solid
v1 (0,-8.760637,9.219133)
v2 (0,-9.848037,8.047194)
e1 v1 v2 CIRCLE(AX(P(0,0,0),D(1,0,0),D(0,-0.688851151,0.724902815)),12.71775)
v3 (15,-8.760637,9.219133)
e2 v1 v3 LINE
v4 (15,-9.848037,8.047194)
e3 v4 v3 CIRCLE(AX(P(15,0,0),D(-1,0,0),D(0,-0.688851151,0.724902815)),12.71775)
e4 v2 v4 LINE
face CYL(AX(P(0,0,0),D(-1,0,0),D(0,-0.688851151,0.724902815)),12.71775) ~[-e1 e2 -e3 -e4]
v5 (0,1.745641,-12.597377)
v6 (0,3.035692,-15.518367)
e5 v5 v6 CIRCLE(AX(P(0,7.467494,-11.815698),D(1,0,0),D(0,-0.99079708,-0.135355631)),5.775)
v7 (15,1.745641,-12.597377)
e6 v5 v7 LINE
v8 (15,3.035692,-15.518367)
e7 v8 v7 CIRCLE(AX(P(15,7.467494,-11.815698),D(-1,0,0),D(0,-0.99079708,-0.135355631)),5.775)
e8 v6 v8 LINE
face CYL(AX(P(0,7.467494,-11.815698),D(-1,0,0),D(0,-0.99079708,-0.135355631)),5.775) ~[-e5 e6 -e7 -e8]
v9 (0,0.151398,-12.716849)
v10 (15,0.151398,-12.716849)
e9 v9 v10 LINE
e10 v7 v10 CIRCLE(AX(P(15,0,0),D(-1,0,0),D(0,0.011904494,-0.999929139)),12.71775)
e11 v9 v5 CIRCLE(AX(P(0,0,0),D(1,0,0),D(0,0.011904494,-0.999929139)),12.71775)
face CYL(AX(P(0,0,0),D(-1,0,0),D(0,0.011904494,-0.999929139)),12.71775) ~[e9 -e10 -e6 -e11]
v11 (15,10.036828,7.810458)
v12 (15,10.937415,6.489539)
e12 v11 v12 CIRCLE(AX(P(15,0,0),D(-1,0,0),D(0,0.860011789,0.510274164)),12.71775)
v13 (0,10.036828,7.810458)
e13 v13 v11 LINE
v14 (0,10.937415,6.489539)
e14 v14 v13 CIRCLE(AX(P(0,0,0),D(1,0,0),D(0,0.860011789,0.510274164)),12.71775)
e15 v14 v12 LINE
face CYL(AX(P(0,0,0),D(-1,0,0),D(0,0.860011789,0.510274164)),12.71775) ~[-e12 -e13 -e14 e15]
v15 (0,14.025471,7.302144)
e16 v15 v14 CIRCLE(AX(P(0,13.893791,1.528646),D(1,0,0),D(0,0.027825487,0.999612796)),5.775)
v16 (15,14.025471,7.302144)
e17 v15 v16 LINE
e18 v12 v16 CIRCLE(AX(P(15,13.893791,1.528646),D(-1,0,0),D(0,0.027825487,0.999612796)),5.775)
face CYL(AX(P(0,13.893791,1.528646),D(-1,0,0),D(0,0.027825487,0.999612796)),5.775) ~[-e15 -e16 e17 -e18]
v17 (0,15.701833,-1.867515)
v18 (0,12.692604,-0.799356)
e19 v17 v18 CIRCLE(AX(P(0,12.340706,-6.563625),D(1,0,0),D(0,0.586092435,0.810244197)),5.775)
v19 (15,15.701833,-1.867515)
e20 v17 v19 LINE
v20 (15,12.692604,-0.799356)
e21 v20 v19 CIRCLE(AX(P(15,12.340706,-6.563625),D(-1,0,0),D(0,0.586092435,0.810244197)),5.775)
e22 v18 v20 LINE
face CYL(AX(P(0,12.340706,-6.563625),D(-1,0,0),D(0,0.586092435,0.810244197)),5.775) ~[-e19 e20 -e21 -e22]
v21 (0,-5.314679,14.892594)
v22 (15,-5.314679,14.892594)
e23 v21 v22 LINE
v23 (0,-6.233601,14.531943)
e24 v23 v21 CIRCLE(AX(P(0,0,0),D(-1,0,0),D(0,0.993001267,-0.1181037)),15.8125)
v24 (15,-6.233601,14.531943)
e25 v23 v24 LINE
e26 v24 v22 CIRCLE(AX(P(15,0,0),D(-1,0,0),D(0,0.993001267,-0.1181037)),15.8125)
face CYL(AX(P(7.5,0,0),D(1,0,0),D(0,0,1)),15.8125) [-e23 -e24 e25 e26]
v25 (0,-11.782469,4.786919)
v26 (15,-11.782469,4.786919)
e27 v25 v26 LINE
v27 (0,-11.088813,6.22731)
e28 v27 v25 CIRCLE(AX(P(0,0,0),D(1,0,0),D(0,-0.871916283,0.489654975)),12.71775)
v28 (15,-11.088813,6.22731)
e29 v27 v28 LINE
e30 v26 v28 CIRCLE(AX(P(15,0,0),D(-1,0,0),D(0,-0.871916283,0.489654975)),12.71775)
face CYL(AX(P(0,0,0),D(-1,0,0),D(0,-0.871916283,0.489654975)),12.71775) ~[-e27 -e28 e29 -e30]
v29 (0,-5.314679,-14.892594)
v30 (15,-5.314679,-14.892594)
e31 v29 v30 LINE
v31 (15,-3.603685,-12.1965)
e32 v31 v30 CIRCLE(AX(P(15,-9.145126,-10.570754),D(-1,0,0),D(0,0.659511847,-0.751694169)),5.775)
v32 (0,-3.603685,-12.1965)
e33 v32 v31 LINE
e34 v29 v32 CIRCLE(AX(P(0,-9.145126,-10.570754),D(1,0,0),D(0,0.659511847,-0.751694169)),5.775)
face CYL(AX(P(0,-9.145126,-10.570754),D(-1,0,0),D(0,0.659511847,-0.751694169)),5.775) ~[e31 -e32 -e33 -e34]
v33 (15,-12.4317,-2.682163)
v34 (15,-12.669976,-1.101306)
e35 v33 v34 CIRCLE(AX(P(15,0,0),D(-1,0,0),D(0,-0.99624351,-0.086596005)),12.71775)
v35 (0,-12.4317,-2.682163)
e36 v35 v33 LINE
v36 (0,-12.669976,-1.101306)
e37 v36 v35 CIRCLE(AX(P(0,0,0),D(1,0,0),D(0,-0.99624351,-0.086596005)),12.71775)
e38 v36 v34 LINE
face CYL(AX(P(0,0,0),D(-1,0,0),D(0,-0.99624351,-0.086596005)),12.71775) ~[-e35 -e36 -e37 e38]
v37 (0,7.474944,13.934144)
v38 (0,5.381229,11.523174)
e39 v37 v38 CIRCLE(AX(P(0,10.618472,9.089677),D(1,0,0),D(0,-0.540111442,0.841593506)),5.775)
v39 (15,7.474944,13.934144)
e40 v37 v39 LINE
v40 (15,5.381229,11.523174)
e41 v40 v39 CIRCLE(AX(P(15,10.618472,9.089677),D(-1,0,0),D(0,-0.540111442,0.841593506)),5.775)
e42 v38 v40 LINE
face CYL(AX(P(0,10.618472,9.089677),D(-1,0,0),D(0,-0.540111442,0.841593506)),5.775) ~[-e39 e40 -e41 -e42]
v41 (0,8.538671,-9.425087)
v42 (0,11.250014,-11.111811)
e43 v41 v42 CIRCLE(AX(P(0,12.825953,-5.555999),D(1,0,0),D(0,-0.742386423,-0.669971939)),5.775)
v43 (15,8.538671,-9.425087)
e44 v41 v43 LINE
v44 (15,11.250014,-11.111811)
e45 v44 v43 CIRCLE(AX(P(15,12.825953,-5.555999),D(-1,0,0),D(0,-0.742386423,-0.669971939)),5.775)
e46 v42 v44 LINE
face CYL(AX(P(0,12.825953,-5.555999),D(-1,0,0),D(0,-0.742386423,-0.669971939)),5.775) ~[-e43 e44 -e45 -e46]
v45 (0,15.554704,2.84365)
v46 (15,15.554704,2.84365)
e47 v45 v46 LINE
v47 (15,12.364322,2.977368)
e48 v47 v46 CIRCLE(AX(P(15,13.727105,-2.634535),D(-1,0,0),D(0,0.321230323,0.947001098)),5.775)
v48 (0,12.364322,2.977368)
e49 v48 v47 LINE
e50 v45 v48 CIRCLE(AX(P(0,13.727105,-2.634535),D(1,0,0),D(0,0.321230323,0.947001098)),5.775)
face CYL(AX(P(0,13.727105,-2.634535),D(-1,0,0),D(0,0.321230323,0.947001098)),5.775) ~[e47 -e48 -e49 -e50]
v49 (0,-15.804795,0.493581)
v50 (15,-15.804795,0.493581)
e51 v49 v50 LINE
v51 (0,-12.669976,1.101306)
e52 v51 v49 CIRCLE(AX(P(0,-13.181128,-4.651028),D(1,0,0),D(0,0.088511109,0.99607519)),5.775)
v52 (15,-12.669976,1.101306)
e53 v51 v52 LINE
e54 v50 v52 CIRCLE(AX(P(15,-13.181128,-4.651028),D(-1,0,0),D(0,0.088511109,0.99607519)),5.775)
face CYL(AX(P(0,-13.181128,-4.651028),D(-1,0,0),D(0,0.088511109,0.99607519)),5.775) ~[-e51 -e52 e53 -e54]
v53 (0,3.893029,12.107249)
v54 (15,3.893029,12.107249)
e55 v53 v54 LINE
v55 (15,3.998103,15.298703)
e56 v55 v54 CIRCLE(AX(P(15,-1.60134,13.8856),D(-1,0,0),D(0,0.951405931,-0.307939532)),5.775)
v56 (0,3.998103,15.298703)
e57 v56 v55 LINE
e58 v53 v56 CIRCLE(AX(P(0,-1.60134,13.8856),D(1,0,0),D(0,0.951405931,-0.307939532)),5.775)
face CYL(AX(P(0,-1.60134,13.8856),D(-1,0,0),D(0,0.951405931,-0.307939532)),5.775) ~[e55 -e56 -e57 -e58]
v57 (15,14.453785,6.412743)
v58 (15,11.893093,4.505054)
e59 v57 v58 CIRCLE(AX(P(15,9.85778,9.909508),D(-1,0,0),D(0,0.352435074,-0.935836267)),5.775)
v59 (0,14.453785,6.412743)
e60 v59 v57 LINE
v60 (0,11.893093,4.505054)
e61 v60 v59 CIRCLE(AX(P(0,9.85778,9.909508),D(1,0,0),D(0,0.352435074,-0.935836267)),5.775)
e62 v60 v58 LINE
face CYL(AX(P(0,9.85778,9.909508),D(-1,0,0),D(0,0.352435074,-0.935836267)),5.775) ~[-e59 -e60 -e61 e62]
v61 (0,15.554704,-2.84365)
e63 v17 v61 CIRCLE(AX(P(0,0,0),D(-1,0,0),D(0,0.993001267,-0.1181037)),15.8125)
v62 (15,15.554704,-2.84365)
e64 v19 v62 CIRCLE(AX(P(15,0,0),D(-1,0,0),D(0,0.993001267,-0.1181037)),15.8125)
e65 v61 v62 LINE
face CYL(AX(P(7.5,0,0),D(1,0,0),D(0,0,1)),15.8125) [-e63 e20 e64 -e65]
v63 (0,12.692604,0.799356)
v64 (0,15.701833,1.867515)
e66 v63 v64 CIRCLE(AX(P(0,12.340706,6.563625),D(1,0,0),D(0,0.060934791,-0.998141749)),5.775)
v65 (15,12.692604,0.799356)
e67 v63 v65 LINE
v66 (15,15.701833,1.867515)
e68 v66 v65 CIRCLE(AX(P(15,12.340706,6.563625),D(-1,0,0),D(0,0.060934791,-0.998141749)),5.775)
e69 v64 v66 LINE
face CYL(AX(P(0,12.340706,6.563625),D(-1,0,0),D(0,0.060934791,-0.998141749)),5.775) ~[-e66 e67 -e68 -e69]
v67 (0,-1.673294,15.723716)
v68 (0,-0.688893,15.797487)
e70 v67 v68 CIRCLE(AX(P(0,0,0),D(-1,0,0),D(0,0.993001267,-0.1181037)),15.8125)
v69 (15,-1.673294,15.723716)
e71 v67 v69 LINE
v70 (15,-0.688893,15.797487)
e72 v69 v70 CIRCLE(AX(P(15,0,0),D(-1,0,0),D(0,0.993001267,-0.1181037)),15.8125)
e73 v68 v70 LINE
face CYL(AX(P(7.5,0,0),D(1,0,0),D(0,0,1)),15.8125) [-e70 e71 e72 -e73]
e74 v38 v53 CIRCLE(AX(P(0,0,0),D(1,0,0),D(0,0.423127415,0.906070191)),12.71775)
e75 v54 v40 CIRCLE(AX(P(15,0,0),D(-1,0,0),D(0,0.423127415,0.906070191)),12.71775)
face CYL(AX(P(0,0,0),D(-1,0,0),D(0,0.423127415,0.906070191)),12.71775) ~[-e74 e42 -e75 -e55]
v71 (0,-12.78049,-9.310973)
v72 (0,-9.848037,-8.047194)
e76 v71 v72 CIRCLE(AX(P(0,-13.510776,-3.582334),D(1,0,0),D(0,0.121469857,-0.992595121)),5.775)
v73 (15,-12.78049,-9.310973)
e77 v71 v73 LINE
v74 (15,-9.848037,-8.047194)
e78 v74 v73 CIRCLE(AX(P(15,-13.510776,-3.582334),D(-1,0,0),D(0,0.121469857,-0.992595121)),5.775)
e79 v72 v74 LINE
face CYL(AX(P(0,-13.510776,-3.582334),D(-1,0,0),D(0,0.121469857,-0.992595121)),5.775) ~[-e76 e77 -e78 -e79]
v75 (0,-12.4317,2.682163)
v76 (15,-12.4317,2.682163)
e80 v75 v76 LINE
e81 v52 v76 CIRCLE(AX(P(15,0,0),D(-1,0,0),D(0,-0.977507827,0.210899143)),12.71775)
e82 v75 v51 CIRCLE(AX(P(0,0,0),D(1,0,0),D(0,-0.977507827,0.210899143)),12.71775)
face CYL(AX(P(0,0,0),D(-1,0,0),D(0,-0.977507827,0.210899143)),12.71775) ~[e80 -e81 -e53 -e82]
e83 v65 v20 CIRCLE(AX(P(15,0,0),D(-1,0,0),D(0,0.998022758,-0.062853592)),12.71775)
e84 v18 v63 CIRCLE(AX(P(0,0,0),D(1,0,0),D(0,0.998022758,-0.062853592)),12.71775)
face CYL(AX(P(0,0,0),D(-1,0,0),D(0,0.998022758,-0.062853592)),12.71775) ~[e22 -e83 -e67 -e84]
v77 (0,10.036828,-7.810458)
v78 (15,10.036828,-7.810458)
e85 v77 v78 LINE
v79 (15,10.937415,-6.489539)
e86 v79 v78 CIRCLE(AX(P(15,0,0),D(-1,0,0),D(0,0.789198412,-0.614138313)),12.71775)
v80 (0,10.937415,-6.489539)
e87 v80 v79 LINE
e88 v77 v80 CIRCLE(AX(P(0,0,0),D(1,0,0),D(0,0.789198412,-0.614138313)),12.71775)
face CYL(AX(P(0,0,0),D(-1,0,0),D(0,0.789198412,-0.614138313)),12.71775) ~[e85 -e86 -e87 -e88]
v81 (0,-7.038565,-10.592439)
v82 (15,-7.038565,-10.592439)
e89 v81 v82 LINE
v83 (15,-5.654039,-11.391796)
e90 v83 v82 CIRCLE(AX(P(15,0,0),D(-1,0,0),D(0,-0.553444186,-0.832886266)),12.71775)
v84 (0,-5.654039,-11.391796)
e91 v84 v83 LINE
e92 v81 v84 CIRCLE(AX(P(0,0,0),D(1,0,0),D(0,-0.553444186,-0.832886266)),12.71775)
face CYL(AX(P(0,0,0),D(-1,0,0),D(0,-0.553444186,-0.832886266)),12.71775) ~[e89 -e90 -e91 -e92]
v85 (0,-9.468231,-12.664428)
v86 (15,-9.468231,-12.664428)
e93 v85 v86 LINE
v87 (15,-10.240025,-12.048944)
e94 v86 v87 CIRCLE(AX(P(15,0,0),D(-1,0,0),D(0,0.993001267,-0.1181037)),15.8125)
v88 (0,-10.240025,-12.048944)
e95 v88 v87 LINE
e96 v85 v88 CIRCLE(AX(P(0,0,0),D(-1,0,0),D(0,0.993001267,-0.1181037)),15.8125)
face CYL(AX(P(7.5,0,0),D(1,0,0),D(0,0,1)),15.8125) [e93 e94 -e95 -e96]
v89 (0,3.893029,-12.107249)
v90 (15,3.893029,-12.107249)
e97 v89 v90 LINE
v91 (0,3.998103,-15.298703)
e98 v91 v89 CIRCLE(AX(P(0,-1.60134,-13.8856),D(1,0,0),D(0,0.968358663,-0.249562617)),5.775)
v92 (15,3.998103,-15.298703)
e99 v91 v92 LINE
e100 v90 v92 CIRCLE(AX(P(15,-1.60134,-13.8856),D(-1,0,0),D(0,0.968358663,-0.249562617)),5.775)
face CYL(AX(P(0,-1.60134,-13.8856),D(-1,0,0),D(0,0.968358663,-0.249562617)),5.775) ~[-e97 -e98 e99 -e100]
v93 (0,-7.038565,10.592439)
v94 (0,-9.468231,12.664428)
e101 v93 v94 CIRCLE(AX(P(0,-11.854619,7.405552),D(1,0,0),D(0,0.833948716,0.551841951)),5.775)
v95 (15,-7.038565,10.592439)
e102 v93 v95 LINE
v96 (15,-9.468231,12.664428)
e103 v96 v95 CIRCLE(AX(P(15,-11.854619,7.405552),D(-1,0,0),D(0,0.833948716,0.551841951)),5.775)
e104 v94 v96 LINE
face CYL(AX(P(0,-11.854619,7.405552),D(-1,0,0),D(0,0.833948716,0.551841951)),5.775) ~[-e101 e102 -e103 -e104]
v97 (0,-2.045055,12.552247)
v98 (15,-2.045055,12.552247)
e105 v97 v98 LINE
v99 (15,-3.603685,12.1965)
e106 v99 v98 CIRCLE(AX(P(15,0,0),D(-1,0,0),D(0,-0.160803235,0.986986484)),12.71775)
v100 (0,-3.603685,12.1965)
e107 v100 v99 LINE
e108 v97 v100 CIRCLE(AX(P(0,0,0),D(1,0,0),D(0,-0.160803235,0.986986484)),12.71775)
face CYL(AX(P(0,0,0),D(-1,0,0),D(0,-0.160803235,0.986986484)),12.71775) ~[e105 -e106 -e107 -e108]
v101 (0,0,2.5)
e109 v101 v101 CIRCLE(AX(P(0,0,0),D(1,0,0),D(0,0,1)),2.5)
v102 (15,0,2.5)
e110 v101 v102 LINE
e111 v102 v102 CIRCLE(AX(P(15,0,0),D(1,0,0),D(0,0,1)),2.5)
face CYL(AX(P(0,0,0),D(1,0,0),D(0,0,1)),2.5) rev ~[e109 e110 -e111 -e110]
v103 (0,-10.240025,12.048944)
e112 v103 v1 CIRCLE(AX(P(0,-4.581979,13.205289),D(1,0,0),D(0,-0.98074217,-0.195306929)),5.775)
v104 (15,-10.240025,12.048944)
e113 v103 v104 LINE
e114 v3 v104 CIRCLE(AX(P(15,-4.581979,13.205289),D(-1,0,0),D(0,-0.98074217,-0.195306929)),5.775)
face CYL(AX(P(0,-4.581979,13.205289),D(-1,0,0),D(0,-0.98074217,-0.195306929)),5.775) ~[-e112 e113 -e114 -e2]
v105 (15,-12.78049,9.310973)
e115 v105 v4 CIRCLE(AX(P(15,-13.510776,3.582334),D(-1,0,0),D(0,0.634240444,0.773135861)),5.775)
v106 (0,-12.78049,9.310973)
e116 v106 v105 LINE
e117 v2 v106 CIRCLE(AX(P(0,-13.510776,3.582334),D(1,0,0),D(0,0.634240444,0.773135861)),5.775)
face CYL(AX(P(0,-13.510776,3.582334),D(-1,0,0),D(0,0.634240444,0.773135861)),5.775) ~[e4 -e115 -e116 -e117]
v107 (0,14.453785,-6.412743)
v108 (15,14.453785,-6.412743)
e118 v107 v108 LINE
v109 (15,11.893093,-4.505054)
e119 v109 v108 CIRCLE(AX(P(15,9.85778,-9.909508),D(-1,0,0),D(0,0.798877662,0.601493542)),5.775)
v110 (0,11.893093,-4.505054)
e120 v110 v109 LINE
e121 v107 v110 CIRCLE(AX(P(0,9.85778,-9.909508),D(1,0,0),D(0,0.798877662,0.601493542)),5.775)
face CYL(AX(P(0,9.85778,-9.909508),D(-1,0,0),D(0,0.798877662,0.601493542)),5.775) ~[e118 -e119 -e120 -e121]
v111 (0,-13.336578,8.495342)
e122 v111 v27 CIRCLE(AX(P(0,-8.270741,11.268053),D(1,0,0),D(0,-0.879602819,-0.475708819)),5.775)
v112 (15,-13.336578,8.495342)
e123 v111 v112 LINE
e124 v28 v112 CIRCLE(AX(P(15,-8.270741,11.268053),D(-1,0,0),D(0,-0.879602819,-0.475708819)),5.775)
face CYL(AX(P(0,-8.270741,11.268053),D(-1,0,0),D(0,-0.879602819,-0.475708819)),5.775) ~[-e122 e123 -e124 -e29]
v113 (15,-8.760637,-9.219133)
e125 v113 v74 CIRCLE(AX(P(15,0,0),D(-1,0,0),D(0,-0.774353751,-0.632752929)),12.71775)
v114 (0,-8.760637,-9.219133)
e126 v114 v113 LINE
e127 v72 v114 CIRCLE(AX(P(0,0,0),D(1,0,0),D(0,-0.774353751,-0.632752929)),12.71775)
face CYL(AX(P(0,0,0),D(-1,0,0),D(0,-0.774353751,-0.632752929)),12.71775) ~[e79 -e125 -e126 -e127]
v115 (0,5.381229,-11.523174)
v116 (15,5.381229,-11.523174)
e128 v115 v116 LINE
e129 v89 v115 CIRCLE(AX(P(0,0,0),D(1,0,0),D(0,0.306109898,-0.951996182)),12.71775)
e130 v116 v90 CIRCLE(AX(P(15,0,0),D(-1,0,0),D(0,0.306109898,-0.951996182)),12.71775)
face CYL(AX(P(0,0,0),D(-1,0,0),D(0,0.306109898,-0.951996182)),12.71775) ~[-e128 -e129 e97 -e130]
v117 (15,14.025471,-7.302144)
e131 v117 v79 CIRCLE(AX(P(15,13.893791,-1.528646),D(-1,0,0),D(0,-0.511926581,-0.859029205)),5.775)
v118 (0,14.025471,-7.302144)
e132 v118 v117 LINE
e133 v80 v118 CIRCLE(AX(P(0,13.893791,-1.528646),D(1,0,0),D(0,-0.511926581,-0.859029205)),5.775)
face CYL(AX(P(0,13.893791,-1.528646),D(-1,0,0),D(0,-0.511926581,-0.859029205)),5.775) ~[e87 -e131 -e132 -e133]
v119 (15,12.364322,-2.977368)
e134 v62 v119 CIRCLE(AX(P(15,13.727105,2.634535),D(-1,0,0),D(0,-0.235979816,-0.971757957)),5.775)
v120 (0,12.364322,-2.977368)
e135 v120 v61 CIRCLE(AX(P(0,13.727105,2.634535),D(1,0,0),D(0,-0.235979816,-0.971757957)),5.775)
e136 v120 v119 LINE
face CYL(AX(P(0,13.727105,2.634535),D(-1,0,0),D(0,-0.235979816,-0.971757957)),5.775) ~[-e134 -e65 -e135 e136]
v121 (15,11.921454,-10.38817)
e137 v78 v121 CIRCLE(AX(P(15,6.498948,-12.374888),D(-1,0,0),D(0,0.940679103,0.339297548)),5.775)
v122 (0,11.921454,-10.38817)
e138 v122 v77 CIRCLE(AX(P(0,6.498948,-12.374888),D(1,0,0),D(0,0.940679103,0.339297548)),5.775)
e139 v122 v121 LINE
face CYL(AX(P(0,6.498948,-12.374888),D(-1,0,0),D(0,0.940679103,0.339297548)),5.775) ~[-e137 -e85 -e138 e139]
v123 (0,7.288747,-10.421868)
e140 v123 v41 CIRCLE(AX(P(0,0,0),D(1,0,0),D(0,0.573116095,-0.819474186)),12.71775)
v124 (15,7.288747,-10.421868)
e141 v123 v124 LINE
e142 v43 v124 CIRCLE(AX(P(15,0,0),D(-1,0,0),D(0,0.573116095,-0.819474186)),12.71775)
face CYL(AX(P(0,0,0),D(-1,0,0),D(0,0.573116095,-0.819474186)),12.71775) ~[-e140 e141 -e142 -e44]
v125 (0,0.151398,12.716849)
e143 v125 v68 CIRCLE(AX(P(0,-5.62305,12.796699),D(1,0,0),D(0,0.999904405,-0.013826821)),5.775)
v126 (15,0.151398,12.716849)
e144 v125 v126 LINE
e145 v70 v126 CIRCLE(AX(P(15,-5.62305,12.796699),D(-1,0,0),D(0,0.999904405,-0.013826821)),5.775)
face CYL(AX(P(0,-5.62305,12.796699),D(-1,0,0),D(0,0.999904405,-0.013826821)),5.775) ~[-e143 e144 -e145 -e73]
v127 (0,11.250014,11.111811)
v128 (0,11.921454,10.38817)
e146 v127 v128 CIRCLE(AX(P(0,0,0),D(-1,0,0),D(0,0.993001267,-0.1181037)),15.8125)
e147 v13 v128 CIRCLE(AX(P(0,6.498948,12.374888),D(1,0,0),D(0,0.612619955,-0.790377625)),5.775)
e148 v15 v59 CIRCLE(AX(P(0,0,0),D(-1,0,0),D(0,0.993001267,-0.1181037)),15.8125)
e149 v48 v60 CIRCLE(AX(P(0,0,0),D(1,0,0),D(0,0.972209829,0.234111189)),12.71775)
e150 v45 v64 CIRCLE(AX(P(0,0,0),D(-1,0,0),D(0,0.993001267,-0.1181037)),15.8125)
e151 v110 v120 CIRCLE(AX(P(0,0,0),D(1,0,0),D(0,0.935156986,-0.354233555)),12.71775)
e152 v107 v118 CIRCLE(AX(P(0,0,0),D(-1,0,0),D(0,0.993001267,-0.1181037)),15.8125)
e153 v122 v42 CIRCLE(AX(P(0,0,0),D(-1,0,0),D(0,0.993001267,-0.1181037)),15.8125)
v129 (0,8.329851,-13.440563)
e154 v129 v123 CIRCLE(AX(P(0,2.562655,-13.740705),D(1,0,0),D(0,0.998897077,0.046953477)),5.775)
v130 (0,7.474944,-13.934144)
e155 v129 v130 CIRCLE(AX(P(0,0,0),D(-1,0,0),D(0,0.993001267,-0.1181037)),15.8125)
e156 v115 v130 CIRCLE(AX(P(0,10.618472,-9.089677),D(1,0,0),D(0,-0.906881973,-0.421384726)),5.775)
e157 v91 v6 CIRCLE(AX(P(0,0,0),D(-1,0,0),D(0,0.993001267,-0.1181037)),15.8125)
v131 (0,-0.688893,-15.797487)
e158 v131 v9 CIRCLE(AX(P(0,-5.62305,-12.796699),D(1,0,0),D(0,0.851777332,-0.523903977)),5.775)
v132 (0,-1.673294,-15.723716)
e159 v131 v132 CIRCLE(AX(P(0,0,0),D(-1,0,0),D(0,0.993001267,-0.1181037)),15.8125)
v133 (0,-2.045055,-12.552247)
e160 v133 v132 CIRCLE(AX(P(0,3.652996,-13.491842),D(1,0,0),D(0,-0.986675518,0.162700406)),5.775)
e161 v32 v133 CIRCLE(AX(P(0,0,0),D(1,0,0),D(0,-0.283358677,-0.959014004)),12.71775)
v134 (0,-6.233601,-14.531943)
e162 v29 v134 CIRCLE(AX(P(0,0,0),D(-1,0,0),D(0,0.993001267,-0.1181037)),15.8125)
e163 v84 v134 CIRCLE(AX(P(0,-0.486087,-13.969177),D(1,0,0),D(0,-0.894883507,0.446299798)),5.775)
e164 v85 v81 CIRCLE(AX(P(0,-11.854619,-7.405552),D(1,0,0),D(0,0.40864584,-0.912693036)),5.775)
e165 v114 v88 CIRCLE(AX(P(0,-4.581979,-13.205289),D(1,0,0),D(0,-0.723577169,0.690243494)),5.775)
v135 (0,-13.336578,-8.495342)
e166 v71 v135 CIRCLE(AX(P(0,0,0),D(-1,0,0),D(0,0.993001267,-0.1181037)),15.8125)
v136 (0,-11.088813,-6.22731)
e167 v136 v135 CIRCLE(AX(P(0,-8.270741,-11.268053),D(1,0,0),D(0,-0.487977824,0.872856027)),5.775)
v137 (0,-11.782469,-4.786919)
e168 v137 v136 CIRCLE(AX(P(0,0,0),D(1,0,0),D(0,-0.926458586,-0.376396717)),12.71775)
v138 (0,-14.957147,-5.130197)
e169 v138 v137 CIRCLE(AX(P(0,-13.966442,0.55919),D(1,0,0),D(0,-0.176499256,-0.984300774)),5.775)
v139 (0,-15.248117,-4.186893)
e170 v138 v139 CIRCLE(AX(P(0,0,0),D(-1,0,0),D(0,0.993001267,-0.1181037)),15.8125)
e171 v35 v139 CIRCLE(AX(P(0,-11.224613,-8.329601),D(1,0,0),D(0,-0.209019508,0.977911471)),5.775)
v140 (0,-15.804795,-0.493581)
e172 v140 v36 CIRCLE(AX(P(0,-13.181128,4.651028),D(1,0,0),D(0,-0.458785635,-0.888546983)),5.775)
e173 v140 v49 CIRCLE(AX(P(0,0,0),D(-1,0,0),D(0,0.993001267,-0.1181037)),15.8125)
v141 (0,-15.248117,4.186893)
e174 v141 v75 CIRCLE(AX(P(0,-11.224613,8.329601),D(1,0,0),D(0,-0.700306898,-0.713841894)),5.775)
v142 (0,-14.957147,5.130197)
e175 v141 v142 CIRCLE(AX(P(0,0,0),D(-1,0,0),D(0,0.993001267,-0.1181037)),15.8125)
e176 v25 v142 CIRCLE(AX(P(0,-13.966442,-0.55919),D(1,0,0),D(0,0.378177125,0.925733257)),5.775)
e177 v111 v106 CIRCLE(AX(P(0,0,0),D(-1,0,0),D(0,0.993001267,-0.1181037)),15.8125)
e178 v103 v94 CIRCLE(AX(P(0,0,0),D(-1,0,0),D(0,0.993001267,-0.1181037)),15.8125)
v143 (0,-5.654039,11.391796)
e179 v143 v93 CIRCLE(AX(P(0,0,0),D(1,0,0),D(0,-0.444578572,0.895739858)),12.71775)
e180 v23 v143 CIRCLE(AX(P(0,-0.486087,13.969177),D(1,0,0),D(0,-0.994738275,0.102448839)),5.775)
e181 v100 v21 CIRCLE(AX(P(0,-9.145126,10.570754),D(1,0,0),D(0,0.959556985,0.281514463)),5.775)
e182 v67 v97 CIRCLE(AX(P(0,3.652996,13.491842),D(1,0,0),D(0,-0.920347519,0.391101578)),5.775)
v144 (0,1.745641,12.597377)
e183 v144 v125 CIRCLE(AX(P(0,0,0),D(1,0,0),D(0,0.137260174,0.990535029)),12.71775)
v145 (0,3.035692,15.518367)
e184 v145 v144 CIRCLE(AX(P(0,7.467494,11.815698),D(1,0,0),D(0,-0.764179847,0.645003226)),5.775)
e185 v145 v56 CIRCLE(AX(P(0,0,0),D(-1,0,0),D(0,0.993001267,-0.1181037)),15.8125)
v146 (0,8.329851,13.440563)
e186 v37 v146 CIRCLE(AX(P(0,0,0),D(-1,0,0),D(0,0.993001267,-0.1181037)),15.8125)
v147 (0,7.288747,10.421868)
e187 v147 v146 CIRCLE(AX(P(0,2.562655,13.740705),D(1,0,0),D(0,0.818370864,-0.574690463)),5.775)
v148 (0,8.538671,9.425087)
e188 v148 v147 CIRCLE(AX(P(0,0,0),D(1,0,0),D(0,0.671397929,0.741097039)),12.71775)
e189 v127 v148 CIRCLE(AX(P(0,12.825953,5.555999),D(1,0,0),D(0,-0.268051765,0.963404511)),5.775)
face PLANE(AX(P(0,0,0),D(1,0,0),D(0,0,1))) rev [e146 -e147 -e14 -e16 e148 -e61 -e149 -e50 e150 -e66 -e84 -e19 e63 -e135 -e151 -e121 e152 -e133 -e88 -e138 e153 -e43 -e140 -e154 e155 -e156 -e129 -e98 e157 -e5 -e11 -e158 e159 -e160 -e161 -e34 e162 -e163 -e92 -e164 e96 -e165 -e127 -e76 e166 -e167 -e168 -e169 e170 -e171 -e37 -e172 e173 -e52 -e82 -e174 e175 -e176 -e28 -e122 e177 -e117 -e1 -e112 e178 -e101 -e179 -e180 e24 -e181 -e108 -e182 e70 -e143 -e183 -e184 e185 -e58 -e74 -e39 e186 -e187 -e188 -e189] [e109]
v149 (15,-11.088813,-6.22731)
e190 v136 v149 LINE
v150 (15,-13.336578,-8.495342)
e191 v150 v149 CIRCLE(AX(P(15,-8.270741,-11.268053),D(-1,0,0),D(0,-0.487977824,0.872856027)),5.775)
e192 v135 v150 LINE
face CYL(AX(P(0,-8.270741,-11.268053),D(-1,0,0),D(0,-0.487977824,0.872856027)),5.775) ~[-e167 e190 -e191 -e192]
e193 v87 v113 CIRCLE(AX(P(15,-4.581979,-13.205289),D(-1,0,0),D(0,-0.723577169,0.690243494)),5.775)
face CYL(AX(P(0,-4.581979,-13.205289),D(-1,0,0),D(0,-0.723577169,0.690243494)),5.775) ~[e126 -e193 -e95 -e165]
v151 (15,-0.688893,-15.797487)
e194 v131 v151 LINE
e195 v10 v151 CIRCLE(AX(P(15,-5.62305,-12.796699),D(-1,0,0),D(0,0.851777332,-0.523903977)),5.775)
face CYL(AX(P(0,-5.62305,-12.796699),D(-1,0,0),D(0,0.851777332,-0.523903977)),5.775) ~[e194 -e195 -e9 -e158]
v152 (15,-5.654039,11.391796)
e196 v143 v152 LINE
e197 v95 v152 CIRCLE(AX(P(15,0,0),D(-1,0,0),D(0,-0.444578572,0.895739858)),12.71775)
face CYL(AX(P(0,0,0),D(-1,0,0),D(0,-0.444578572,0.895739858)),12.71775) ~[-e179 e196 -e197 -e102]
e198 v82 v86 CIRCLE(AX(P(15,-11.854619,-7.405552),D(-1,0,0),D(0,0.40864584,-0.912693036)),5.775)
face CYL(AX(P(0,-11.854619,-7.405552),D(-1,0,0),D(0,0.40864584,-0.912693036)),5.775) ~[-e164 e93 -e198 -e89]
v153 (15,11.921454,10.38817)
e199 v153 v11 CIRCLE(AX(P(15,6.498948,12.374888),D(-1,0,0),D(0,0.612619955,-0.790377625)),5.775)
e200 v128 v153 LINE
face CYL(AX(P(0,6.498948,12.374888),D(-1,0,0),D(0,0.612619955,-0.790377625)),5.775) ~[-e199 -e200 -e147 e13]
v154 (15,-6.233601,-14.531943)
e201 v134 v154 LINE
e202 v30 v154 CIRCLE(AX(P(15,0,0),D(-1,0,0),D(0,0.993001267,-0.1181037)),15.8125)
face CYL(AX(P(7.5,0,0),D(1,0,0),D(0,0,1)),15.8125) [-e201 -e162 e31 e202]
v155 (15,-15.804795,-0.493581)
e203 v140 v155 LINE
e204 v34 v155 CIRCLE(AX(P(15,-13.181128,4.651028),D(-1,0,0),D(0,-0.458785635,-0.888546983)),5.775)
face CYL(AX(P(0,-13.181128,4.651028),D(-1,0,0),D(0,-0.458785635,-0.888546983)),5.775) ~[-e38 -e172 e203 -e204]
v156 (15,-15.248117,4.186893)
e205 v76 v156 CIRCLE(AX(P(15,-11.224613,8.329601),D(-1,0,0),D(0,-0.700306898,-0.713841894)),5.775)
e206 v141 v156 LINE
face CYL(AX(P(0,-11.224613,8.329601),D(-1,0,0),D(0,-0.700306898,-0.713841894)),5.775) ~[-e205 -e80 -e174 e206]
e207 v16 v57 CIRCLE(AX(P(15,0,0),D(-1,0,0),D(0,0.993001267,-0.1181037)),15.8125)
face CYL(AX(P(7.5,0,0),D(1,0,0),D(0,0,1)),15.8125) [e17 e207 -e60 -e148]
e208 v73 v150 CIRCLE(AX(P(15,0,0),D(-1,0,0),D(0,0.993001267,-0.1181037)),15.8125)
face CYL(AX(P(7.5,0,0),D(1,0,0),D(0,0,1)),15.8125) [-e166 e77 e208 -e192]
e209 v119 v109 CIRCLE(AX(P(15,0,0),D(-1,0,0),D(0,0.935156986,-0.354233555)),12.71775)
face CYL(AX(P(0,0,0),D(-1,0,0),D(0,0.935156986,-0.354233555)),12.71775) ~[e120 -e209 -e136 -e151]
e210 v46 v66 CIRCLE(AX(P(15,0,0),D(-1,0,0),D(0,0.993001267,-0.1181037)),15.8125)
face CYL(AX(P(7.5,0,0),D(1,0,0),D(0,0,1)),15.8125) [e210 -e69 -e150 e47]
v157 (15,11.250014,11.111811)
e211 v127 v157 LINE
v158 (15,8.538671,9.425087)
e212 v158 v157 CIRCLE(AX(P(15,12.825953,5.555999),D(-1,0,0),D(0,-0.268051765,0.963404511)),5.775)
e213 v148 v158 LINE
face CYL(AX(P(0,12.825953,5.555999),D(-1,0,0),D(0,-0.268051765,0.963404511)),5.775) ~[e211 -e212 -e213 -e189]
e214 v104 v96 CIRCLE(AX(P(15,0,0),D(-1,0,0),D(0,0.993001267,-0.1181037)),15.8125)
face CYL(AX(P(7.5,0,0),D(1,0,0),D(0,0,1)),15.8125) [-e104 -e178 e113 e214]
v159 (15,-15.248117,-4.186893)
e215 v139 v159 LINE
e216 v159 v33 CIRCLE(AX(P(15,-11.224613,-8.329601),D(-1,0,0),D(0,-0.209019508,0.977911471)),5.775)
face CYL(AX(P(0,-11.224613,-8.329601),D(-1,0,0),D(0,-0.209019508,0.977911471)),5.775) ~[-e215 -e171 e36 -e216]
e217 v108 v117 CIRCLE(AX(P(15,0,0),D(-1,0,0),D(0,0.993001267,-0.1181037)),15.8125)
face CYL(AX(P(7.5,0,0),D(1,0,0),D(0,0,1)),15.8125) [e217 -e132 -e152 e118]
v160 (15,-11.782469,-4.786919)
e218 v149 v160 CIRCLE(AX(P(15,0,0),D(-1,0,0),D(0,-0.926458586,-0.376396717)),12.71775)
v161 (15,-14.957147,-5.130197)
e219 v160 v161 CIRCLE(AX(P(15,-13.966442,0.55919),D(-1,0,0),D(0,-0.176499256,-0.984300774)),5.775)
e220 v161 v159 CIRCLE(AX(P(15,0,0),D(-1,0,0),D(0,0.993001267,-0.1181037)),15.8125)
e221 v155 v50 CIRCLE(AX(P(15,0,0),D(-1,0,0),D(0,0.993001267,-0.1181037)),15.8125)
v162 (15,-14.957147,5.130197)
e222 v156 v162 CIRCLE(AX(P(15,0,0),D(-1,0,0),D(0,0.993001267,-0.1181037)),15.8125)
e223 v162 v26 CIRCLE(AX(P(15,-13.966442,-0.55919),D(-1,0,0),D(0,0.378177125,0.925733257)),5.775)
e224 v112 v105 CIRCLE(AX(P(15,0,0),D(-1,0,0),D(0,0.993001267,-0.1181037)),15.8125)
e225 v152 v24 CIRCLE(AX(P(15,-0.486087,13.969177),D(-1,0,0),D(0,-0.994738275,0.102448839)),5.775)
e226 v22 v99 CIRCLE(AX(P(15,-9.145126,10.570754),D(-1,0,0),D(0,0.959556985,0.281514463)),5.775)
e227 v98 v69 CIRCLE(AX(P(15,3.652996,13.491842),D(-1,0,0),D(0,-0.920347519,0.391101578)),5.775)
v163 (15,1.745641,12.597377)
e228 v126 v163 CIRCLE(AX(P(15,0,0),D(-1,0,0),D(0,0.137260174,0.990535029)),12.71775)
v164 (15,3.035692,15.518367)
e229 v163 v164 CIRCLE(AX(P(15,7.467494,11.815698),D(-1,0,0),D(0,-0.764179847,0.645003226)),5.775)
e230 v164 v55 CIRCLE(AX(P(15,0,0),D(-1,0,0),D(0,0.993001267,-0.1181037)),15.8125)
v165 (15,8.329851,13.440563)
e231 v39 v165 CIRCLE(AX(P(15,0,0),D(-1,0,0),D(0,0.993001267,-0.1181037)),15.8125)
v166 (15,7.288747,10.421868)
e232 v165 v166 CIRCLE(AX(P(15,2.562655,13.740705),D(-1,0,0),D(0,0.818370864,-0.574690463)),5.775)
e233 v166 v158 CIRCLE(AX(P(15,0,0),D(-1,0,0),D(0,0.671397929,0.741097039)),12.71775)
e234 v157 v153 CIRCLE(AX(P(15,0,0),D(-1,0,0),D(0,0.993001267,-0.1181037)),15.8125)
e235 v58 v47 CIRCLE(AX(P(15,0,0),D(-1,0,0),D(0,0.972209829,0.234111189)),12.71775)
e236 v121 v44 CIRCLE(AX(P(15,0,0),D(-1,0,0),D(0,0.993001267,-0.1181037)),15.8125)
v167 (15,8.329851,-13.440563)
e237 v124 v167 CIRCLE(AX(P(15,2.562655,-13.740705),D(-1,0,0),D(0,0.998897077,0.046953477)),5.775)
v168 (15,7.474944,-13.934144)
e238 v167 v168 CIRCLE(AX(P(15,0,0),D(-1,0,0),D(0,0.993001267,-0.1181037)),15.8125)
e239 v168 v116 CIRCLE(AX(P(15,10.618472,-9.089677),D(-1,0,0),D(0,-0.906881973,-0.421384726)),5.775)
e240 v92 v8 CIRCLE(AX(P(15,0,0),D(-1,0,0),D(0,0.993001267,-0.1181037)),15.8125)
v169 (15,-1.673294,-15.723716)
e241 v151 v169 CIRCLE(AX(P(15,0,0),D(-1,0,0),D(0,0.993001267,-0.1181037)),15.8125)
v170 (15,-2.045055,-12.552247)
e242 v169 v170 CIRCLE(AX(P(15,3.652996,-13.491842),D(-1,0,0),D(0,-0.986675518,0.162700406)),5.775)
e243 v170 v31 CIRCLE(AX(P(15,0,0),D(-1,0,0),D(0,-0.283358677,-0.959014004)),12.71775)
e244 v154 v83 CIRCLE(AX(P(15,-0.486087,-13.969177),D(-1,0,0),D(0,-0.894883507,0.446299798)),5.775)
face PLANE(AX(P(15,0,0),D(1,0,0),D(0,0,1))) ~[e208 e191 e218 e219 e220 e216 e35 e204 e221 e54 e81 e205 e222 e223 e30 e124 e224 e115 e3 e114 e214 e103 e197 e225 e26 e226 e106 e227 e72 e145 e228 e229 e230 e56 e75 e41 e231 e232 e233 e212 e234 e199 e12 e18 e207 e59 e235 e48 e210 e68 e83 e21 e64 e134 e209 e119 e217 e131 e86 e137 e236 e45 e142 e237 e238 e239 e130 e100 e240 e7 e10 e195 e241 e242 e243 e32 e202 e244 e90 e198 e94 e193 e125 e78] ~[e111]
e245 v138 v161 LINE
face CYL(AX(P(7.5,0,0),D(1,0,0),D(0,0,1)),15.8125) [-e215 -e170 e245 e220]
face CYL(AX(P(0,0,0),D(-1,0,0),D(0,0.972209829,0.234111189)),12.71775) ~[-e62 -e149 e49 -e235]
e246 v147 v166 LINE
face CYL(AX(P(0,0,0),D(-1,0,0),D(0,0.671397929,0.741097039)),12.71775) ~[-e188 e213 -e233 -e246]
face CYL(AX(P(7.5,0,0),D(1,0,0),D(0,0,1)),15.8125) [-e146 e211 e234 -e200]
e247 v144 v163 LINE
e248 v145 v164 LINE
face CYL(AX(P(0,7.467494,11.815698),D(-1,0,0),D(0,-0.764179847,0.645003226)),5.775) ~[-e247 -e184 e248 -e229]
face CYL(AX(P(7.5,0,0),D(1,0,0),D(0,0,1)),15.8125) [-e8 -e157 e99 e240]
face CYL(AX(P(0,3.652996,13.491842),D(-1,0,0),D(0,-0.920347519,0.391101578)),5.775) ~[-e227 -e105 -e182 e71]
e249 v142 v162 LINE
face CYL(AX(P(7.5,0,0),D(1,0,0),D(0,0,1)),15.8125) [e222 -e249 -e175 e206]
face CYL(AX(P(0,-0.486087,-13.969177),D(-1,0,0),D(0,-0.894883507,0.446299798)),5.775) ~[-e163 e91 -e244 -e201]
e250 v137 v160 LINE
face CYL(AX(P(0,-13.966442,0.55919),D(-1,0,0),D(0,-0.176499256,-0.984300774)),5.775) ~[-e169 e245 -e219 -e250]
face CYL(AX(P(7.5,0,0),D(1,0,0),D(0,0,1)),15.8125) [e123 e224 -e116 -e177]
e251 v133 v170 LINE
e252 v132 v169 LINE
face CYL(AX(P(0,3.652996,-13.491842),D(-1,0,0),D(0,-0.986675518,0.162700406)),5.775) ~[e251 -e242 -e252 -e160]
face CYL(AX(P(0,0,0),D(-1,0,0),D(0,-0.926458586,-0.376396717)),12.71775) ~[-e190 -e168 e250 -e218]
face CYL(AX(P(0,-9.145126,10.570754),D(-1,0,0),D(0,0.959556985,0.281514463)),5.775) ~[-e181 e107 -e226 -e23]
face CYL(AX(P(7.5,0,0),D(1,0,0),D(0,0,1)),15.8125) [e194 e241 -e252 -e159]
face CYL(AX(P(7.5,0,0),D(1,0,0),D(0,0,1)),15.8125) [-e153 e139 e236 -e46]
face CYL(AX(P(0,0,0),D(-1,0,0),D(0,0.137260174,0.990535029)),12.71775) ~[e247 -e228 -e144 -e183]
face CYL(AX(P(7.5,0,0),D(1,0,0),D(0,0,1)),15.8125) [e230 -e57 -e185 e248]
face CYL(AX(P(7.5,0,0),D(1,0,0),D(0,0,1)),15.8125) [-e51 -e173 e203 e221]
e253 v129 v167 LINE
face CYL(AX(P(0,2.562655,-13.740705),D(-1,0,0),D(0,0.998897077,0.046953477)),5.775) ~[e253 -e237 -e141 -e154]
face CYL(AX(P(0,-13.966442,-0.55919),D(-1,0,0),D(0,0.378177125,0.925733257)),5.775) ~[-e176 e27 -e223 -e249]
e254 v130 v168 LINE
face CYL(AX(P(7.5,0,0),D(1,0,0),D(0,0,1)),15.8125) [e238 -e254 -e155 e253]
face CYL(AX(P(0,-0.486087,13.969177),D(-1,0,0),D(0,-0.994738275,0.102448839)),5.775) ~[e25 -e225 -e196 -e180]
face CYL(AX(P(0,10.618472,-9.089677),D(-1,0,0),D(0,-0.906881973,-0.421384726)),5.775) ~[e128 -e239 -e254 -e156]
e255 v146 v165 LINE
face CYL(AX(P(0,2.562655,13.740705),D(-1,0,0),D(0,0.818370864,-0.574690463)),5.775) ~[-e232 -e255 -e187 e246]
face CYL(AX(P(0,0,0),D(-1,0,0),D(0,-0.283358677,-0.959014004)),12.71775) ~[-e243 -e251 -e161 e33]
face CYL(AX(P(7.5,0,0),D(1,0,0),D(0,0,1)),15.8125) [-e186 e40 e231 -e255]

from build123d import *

# Parameters (mm, degrees)
BASPROSKE_W     = 15
BASPROSKE_H     = 15.8125
TOOTHCUT_DEPTH  = 27.927129674
TEETHCUTS_COUNT = 21
BORSKE_R        = 2.5
BORE_DEPTH      = 50.0000508


with BuildPart() as part:
    # BasProSke → Base-Revolve (revolve)
    with BuildSketch(Plane(origin=(0, 0, 0), x_dir=(1, 0, 0), z_dir=(0, 1, 0)), mode=Mode.PRIVATE) as base_revolve_sk:
        with Locations((7.5, 7.90625)):
            Rectangle(BASPROSKE_W, BASPROSKE_H)
    revolve(base_revolve_sk.sketch.rotate(Axis((-10, 0, 0), (1, 0, 0)), 180), axis=Axis((-10, 0, 0), (1, 0, 0)))

    # TooCutSke → ToothCut (cut, through all)
    with BuildSketch(Plane(origin=(0, 0, 0), x_dir=(0, 0, -1), z_dir=(1, 0, 0))):
        with BuildLine():
            ThreePointArc((0.799356262, 12.692603934), (0, 12.71775), (-0.799356262, 12.692603934))
            ThreePointArc((-0.799356262, 12.692603934), (-1.126185367, 14.286181481), (-1.884464628, 15.725389327))
            ThreePointArc((-1.884464628, 15.725389327), (0, 15.8379), (1.884464628, 15.725389327))
            ThreePointArc((1.884464628, 15.725389327), (1.126185367, 14.286181481), (0.799356262, 12.692603934))
        make_face()
    toothcut = extrude(amount=TOOTHCUT_DEPTH, mode=Mode.SUBTRACT)

    # TeethCuts: ToothCut ×21 about axis
    teethcuts_axis = Axis((0, 0, 0), (1, 0, 0))
    for i in range(1, TEETHCUTS_COUNT):
        add(toothcut.rotate(teethcuts_axis, i * 360 / TEETHCUTS_COUNT), mode=Mode.SUBTRACT)

    # BorSke → Bore (cut, symmetric)
    with BuildSketch(Plane(origin=(0, 0, 0), x_dir=(0, 0, -1), z_dir=(1, 0, 0))):
        with Locations(Location((0, 0, 0), (0, 0, 180))):
            Circle(BORSKE_R)
    extrude(amount=BORE_DEPTH, both=True, mode=Mode.SUBTRACT)


solid = part.part
